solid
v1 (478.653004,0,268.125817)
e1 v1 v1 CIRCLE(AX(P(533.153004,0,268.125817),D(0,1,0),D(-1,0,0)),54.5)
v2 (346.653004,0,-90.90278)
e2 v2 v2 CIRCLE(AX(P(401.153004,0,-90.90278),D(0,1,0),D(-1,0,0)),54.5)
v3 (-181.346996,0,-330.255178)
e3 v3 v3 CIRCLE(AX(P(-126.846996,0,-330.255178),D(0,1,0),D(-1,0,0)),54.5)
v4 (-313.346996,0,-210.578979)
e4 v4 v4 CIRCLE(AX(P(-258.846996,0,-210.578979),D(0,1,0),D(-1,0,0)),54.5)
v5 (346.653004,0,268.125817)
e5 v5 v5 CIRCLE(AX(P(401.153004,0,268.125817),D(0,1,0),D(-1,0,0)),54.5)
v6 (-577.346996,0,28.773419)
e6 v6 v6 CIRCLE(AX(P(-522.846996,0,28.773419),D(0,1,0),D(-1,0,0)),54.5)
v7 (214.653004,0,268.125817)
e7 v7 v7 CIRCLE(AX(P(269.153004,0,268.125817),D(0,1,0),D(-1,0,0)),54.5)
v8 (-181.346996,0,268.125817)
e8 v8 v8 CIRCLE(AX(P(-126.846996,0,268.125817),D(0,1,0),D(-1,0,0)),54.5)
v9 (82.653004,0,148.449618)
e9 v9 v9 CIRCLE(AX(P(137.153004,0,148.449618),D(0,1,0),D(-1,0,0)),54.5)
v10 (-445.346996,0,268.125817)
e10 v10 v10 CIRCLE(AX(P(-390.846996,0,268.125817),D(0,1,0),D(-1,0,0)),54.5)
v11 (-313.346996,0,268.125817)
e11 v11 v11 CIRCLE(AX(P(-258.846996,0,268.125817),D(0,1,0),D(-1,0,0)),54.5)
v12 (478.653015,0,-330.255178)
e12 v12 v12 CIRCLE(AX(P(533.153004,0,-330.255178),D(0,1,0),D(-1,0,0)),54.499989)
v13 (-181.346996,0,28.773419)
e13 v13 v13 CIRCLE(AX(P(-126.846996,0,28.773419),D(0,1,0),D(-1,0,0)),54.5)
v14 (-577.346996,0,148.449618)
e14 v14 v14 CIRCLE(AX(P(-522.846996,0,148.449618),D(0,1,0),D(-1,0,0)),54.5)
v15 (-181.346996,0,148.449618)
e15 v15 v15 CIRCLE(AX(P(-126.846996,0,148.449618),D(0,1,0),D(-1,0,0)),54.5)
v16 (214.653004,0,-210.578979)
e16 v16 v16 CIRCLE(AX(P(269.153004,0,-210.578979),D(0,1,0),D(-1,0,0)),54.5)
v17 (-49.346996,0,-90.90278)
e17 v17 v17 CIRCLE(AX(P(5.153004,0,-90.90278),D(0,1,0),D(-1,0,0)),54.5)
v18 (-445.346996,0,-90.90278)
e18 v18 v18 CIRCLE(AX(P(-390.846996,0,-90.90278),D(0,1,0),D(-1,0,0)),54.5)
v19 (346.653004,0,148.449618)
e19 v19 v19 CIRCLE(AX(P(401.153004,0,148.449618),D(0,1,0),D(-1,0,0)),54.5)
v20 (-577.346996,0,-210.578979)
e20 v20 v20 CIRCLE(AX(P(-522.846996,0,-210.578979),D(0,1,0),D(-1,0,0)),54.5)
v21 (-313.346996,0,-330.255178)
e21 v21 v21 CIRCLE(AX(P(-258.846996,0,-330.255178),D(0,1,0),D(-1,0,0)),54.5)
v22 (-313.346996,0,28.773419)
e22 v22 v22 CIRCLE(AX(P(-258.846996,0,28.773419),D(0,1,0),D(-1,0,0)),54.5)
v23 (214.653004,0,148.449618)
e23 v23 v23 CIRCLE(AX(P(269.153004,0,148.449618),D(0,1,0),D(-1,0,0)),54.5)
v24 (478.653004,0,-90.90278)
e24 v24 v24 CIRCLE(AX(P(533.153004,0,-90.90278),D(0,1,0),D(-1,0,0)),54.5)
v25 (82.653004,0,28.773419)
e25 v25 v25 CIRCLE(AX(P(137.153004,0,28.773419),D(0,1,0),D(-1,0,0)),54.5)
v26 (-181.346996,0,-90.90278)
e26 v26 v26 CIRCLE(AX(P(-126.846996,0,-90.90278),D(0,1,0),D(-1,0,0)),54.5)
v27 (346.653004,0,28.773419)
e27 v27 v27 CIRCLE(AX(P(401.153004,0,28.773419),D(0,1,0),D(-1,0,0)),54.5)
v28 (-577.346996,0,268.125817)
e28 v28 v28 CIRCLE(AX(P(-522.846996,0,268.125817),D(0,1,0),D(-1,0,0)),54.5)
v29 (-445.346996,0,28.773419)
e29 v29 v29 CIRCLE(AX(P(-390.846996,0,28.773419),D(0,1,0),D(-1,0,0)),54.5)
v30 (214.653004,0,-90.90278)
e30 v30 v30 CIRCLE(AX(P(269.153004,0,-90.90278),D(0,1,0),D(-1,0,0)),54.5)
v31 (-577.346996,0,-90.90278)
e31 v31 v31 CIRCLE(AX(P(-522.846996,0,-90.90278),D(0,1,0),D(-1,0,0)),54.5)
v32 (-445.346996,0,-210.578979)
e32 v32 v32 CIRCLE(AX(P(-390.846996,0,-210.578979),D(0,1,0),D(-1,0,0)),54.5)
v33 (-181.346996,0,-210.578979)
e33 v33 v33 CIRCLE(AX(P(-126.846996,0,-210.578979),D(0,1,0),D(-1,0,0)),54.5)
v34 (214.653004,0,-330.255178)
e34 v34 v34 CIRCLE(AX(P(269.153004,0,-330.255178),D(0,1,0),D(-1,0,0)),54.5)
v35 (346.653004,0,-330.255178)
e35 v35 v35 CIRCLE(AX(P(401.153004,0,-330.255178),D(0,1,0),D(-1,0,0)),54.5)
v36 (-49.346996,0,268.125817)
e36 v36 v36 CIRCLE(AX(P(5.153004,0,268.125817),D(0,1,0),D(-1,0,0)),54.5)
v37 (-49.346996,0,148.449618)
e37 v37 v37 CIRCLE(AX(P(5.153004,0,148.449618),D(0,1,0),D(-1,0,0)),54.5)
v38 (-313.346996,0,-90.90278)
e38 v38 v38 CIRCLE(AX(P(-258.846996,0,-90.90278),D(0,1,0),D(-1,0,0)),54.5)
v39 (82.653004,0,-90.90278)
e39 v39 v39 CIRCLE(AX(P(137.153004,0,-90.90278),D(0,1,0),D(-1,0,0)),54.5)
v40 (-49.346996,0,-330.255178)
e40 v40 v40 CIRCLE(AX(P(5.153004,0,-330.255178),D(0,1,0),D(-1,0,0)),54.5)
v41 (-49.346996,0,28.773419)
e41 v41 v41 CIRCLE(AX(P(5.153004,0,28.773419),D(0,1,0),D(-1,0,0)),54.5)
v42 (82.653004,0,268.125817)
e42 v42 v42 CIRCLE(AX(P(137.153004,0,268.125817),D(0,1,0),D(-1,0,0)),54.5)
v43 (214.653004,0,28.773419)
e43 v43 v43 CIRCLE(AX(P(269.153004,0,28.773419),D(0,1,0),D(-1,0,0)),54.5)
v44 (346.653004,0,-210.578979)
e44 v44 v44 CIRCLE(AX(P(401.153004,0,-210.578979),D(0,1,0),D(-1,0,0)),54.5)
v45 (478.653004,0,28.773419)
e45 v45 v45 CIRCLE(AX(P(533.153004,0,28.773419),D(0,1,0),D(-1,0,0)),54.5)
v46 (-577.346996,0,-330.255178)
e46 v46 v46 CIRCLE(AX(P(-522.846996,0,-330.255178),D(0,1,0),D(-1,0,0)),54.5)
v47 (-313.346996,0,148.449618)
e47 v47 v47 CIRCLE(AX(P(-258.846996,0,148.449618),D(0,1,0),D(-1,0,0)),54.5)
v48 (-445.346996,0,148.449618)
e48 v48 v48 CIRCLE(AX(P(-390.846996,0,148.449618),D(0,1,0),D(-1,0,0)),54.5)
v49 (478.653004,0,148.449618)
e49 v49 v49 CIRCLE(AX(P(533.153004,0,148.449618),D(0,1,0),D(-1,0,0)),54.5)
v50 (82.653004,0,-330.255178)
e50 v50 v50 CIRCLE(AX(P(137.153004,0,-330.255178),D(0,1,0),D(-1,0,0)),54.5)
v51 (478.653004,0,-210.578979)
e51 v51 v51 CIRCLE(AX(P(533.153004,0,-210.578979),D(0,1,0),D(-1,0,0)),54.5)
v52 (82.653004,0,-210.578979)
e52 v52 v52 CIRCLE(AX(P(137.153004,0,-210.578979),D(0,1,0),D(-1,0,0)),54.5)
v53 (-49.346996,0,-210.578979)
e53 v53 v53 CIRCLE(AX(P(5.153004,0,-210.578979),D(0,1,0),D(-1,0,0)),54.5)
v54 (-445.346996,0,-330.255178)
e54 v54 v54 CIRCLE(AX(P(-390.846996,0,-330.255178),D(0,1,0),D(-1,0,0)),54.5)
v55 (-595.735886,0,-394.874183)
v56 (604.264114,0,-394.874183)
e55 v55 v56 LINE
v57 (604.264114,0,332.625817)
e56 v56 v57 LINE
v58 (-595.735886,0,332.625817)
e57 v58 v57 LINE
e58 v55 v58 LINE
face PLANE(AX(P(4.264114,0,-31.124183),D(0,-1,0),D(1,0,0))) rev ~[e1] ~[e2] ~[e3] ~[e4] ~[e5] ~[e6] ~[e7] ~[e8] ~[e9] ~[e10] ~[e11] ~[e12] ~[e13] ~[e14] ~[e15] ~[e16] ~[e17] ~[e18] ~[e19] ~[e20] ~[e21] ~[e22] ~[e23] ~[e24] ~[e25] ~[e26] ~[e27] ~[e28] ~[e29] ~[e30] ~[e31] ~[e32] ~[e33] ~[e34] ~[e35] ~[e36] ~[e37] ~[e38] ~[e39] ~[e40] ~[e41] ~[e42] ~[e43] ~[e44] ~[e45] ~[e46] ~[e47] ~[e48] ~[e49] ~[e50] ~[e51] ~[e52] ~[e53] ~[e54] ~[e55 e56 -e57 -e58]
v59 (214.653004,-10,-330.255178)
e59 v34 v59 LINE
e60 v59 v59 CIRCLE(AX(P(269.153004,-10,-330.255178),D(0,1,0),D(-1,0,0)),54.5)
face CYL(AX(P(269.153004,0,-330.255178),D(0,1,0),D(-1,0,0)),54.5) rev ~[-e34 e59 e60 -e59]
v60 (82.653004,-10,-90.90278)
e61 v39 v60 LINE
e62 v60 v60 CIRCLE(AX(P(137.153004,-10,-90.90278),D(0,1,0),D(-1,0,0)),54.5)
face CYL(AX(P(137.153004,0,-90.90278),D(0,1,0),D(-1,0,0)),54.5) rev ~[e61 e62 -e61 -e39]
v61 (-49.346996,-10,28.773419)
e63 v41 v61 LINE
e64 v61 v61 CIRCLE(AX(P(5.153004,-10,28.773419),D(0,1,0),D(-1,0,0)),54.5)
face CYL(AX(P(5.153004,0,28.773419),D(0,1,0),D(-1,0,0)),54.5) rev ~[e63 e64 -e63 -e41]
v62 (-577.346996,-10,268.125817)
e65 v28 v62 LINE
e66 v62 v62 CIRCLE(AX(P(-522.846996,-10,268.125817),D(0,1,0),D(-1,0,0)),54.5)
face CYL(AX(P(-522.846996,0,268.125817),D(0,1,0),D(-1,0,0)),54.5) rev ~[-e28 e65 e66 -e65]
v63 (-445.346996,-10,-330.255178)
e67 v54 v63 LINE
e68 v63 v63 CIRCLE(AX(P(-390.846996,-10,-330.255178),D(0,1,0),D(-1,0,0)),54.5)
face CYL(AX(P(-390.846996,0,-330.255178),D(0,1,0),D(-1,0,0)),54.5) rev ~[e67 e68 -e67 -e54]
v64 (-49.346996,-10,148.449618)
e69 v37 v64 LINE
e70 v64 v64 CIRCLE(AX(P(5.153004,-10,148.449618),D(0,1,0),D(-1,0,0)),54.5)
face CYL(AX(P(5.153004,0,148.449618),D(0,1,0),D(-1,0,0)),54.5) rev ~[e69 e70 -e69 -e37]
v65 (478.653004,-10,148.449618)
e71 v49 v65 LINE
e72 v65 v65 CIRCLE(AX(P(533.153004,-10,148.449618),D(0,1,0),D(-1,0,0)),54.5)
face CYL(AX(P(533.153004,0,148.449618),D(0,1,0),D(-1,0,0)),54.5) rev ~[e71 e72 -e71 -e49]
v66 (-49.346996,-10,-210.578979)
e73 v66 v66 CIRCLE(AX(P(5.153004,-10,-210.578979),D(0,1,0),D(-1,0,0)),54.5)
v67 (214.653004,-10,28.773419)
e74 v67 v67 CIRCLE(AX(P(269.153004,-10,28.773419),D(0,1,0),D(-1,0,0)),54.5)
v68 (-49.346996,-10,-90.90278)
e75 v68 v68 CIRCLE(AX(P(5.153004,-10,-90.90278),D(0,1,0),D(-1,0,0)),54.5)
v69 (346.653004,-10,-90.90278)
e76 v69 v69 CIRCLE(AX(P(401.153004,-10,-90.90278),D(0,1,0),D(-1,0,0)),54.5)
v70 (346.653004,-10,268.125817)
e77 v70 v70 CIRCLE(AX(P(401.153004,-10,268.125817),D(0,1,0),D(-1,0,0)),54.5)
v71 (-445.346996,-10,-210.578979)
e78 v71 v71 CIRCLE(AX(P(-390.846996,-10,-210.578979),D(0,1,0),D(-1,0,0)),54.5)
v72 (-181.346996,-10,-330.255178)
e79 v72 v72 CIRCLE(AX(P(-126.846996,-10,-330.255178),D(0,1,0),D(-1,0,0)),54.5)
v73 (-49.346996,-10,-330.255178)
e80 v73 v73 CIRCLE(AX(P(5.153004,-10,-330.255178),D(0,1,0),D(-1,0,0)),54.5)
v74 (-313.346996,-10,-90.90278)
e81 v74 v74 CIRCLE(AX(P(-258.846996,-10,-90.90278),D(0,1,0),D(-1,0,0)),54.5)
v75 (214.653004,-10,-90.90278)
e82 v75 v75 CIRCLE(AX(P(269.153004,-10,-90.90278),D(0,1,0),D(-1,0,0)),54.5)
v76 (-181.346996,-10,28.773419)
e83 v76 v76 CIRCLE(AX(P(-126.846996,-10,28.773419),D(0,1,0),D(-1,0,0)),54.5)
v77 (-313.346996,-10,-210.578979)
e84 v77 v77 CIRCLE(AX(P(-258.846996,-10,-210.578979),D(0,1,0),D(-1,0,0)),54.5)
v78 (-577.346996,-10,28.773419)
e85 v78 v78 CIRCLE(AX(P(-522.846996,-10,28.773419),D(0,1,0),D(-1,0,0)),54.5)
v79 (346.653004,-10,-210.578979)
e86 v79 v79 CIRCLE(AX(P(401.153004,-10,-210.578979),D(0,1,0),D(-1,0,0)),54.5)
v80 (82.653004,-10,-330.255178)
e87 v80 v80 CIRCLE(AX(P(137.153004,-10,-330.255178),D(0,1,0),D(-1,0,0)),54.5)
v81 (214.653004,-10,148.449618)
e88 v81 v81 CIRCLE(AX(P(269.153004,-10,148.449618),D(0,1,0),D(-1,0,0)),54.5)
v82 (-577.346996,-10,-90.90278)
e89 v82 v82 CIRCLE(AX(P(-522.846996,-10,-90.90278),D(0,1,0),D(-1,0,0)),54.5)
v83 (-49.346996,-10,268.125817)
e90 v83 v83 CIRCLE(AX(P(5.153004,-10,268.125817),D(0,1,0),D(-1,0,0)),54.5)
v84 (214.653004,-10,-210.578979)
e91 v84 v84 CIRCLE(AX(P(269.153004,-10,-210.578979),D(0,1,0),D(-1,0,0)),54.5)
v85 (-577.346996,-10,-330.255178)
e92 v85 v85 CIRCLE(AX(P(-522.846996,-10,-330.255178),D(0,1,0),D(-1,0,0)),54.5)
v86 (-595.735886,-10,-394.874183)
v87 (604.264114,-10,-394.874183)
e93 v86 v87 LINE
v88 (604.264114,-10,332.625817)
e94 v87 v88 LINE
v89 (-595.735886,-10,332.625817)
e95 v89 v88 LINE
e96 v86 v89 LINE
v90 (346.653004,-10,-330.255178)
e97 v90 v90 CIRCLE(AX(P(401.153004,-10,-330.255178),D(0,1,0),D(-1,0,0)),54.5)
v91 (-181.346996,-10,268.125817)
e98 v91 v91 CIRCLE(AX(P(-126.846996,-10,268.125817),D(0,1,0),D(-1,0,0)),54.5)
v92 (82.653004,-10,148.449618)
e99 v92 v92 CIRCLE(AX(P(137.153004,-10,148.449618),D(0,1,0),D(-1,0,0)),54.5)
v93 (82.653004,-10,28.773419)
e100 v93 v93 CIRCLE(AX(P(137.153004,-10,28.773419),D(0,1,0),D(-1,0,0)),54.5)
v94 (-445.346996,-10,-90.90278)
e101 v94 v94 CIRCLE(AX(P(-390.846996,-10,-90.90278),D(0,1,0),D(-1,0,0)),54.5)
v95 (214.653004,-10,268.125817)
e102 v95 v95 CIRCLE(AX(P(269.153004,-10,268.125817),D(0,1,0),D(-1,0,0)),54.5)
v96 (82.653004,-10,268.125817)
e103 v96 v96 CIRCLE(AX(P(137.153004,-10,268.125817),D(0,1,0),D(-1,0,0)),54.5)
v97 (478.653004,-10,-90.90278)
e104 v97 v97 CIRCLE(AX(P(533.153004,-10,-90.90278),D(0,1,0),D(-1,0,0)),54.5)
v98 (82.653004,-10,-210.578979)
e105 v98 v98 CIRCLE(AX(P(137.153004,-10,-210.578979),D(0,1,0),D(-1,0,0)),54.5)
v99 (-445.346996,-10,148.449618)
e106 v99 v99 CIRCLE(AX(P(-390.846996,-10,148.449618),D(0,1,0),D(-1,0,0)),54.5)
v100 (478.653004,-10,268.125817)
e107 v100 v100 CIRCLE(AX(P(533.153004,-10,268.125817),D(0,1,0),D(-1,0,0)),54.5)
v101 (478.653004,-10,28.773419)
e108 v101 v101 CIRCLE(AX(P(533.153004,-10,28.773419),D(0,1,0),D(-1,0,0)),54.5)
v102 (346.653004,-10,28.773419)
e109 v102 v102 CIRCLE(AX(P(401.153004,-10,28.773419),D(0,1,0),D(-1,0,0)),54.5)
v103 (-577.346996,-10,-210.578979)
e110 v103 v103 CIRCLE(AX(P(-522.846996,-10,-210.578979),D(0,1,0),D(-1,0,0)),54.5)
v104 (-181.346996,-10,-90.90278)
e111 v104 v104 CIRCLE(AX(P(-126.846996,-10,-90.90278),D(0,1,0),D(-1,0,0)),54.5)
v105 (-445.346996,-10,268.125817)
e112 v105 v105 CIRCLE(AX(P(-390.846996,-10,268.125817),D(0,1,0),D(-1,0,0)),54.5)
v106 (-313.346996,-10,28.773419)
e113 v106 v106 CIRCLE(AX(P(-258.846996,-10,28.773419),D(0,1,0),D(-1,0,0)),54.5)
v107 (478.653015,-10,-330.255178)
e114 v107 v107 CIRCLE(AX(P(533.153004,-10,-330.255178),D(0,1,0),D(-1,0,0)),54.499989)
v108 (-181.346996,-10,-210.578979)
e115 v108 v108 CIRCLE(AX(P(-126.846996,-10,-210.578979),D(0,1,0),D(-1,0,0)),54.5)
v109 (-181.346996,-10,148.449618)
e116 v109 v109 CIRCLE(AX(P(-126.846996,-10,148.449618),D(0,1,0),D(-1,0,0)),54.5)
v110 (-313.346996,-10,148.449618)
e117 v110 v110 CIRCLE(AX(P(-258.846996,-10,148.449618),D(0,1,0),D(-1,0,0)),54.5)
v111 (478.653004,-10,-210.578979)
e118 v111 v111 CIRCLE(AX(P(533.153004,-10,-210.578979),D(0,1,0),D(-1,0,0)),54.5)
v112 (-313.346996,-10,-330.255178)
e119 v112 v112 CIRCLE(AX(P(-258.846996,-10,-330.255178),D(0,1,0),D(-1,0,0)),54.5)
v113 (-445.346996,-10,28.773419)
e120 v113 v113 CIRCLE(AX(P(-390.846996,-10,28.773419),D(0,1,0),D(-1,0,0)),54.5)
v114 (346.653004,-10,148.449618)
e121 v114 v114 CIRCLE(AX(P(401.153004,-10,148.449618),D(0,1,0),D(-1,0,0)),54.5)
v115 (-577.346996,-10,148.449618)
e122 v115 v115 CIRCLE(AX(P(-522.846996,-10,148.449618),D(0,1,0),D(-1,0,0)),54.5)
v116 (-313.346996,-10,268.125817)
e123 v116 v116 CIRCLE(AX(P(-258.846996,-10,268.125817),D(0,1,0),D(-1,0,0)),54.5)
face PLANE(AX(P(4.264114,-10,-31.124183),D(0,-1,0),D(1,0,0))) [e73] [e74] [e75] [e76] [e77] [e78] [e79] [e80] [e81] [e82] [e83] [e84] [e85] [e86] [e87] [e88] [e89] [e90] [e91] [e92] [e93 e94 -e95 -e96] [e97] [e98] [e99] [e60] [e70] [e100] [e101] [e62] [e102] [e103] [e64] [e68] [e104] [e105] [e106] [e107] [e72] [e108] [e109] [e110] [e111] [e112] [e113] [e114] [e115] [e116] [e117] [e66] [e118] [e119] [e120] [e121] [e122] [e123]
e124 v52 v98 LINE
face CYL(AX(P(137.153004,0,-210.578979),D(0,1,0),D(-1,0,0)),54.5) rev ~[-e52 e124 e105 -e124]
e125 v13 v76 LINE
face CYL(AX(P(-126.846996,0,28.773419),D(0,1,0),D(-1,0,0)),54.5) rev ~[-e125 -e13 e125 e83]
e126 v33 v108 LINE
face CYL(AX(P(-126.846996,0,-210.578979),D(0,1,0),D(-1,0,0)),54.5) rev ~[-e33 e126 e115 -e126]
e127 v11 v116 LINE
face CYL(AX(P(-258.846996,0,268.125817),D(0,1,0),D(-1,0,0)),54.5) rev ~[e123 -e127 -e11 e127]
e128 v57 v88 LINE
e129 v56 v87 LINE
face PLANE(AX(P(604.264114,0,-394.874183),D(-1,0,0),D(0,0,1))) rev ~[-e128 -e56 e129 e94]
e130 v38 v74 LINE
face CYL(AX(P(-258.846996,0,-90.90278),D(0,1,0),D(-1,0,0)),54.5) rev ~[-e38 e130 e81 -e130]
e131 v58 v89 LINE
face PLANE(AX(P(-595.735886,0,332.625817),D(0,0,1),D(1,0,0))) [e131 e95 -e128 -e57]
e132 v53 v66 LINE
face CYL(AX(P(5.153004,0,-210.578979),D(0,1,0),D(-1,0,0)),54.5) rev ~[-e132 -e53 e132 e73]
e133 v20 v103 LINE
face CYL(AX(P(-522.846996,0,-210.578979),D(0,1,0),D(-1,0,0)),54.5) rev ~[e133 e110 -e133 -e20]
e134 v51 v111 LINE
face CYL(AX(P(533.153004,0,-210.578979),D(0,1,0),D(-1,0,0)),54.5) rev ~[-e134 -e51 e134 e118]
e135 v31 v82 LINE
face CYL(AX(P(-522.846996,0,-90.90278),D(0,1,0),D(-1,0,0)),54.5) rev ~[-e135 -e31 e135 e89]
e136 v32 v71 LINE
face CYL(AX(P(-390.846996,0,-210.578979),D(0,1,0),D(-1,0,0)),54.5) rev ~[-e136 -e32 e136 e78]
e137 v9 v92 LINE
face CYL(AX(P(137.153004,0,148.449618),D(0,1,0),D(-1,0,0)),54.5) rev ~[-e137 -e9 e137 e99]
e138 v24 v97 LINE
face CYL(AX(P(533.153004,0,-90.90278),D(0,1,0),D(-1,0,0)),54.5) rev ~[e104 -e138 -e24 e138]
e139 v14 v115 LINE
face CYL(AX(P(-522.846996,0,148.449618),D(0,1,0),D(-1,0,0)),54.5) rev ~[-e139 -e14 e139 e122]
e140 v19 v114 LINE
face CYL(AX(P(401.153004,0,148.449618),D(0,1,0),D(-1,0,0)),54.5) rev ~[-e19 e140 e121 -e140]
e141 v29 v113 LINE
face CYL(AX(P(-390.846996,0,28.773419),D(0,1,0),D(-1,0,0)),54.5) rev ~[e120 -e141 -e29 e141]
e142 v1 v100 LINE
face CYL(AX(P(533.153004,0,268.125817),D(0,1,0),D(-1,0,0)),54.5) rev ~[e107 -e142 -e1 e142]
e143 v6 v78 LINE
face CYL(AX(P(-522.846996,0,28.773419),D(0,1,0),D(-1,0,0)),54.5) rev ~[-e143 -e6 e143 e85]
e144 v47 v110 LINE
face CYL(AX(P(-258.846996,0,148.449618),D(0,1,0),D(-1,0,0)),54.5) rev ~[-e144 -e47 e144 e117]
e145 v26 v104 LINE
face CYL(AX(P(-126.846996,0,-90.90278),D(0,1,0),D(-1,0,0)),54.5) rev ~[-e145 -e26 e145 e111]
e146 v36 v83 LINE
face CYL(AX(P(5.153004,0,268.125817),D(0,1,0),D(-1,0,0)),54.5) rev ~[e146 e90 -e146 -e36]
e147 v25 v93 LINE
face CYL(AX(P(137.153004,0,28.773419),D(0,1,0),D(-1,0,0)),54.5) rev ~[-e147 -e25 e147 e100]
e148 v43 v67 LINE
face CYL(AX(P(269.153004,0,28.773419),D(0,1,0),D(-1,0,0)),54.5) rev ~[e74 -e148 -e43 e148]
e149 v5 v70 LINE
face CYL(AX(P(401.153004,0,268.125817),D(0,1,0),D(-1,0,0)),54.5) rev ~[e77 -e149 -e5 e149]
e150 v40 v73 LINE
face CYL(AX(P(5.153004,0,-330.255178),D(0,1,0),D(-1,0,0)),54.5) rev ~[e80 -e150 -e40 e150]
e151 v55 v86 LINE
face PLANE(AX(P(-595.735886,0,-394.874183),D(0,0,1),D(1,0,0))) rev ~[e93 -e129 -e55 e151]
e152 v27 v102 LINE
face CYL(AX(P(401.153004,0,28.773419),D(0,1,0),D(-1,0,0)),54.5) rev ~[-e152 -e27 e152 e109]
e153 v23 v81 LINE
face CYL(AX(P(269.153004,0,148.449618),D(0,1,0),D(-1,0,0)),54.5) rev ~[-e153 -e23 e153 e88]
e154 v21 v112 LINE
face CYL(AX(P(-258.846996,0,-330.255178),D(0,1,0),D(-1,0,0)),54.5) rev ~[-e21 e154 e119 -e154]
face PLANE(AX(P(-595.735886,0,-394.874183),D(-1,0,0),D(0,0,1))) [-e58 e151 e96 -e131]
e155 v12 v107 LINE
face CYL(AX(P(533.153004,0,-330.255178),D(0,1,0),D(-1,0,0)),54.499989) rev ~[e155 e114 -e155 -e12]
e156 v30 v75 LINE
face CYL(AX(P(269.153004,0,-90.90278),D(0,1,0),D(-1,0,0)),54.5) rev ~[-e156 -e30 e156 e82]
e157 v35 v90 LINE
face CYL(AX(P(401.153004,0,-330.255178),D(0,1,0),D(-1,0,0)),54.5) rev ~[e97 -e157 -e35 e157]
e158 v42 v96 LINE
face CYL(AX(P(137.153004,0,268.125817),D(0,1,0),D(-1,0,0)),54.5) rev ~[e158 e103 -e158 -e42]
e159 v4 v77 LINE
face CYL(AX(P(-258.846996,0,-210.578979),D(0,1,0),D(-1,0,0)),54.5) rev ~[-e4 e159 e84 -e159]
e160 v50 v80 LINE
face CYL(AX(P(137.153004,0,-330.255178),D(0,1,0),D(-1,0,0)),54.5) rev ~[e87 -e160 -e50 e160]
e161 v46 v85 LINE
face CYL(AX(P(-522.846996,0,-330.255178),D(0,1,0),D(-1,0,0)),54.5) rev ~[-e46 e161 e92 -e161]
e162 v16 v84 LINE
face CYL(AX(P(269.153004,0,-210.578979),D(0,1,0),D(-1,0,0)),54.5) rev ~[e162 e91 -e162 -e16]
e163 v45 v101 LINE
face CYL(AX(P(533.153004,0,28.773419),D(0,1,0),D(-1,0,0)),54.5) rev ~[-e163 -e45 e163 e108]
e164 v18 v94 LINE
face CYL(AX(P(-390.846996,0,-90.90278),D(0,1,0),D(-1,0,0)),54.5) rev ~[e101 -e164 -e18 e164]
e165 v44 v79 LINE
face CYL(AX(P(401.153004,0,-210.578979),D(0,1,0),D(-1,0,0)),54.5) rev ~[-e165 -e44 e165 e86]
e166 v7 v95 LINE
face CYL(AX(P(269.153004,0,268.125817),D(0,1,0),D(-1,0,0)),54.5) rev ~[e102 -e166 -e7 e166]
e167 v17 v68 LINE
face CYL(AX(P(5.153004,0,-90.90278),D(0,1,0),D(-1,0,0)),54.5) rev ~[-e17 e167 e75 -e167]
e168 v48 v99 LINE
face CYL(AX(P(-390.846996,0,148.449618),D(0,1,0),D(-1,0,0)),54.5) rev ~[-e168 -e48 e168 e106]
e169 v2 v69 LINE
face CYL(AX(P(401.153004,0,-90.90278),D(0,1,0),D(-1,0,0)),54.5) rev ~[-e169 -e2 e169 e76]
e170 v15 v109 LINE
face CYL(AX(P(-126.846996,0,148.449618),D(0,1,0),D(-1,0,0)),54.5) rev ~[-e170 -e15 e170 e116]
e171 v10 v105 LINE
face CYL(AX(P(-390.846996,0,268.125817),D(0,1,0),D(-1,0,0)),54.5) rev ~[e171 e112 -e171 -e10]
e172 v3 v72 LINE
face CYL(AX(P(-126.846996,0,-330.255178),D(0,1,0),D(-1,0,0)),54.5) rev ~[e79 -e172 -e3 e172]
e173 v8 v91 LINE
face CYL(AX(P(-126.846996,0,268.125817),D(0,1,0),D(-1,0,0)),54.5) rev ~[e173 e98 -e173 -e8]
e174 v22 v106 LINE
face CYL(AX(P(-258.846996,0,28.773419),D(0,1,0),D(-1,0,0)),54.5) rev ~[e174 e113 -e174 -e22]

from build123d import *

# Parameters (mm, degrees)
F0_W     = 1200
F0_H     = 727.5
F1_DEPTH = 10
F3_R     = 54.5
F3_R_2   = 54.499989
F4_DEPTH = 10.001


with BuildPart() as f1:
    # F0 (on Front) → F1 (new body)
    with BuildSketch(Plane.XZ):
        with Locations((4.264114, -31.124183)):
            Rectangle(F0_W, F0_H)
    extrude(amount=F1_DEPTH)

    # F3 (on face) → F4 (cut, through all)
    with BuildSketch(Plane(origin=(0, 0, 0), x_dir=(-1, 0, 0), z_dir=(0, 1, 0))):
        with Locations((-533.153004, 268.125817)):
            Circle(F3_R)
        with Locations((-533.153004, 148.449618)):
            Circle(F3_R)
        with Locations((-533.153004, 28.773419)):
            Circle(F3_R)
        with Locations((-533.153004, -90.90278)):
            Circle(F3_R)
        with Locations((-533.153004, -210.578979)):
            Circle(F3_R)
        with Locations((-533.153004, -330.255178)):
            Circle(F3_R_2)
        with Locations((-401.153004, -330.255178)):
            Circle(F3_R)
        with Locations((-401.153004, -210.578979)):
            Circle(F3_R)
        with Locations((-401.153004, -90.90278)):
            Circle(F3_R)
        with Locations((-401.153004, 268.125817)):
            Circle(F3_R)
        with Locations((-401.153004, 148.449618)):
            Circle(F3_R)
        with Locations((-401.153004, 28.773419)):
            Circle(F3_R)
        with Locations((-269.153004, -330.255178)):
            Circle(F3_R)
        with Locations((-269.153004, -210.578979)):
            Circle(F3_R)
        with Locations((-269.153004, -90.90278)):
            Circle(F3_R)
        with Locations((-269.153004, 268.125817)):
            Circle(F3_R)
        with Locations((-269.153004, 148.449618)):
            Circle(F3_R)
        with Locations((-269.153004, 28.773419)):
            Circle(F3_R)
        with Locations((-137.153004, -330.255178)):
            Circle(F3_R)
        with Locations((-137.153004, -210.578979)):
            Circle(F3_R)
        with Locations((-137.153004, -90.90278)):
            Circle(F3_R)
        with Locations((-137.153004, 268.125817)):
            Circle(F3_R)
        with Locations((-137.153004, 148.449618)):
            Circle(F3_R)
        with Locations((-137.153004, 28.773419)):
            Circle(F3_R)
        with Locations((-5.153004, -330.255178)):
            Circle(F3_R)
        with Locations((-5.153004, -210.578979)):
            Circle(F3_R)
        with Locations((-5.153004, -90.90278)):
            Circle(F3_R)
        with Locations((-5.153004, 268.125817)):
            Circle(F3_R)
        with Locations((-5.153004, 148.449618)):
            Circle(F3_R)
        with Locations((-5.153004, 28.773419)):
            Circle(F3_R)
        with Locations((126.846996, -330.255178)):
            Circle(F3_R)
        with Locations((126.846996, -210.578979)):
            Circle(F3_R)
        with Locations((126.846996, -90.90278)):
            Circle(F3_R)
        with Locations((126.846996, 268.125817)):
            Circle(F3_R)
        with Locations((126.846996, 148.449618)):
            Circle(F3_R)
        with Locations((126.846996, 28.773419)):
            Circle(F3_R)
        with Locations((258.846996, -330.255178)):
            Circle(F3_R)
        with Locations((258.846996, -210.578979)):
            Circle(F3_R)
        with Locations((258.846996, -90.90278)):
            Circle(F3_R)
        with Locations((258.846996, 268.125817)):
            Circle(F3_R)
        with Locations((258.846996, 148.449618)):
            Circle(F3_R)
        with Locations((258.846996, 28.773419)):
            Circle(F3_R)
        with Locations((390.846996, -330.255178)):
            Circle(F3_R)
        with Locations((390.846996, -210.578979)):
            Circle(F3_R)
        with Locations((390.846996, -90.90278)):
            Circle(F3_R)
        with Locations((390.846996, 268.125817)):
            Circle(F3_R)
        with Locations((390.846996, 148.449618)):
            Circle(F3_R)
        with Locations((390.846996, 28.773419)):
            Circle(F3_R)
        with Locations((522.846996, -330.255178)):
            Circle(F3_R)
        with Locations((522.846996, -210.578979)):
            Circle(F3_R)
        with Locations((522.846996, -90.90278)):
            Circle(F3_R)
        with Locations((522.846996, 268.125817)):
            Circle(F3_R)
        with Locations((522.846996, 148.449618)):
            Circle(F3_R)
        with Locations((522.846996, 28.773419)):
            Circle(F3_R)
    extrude(amount=-F4_DEPTH, mode=Mode.SUBTRACT)


solid = f1.part
